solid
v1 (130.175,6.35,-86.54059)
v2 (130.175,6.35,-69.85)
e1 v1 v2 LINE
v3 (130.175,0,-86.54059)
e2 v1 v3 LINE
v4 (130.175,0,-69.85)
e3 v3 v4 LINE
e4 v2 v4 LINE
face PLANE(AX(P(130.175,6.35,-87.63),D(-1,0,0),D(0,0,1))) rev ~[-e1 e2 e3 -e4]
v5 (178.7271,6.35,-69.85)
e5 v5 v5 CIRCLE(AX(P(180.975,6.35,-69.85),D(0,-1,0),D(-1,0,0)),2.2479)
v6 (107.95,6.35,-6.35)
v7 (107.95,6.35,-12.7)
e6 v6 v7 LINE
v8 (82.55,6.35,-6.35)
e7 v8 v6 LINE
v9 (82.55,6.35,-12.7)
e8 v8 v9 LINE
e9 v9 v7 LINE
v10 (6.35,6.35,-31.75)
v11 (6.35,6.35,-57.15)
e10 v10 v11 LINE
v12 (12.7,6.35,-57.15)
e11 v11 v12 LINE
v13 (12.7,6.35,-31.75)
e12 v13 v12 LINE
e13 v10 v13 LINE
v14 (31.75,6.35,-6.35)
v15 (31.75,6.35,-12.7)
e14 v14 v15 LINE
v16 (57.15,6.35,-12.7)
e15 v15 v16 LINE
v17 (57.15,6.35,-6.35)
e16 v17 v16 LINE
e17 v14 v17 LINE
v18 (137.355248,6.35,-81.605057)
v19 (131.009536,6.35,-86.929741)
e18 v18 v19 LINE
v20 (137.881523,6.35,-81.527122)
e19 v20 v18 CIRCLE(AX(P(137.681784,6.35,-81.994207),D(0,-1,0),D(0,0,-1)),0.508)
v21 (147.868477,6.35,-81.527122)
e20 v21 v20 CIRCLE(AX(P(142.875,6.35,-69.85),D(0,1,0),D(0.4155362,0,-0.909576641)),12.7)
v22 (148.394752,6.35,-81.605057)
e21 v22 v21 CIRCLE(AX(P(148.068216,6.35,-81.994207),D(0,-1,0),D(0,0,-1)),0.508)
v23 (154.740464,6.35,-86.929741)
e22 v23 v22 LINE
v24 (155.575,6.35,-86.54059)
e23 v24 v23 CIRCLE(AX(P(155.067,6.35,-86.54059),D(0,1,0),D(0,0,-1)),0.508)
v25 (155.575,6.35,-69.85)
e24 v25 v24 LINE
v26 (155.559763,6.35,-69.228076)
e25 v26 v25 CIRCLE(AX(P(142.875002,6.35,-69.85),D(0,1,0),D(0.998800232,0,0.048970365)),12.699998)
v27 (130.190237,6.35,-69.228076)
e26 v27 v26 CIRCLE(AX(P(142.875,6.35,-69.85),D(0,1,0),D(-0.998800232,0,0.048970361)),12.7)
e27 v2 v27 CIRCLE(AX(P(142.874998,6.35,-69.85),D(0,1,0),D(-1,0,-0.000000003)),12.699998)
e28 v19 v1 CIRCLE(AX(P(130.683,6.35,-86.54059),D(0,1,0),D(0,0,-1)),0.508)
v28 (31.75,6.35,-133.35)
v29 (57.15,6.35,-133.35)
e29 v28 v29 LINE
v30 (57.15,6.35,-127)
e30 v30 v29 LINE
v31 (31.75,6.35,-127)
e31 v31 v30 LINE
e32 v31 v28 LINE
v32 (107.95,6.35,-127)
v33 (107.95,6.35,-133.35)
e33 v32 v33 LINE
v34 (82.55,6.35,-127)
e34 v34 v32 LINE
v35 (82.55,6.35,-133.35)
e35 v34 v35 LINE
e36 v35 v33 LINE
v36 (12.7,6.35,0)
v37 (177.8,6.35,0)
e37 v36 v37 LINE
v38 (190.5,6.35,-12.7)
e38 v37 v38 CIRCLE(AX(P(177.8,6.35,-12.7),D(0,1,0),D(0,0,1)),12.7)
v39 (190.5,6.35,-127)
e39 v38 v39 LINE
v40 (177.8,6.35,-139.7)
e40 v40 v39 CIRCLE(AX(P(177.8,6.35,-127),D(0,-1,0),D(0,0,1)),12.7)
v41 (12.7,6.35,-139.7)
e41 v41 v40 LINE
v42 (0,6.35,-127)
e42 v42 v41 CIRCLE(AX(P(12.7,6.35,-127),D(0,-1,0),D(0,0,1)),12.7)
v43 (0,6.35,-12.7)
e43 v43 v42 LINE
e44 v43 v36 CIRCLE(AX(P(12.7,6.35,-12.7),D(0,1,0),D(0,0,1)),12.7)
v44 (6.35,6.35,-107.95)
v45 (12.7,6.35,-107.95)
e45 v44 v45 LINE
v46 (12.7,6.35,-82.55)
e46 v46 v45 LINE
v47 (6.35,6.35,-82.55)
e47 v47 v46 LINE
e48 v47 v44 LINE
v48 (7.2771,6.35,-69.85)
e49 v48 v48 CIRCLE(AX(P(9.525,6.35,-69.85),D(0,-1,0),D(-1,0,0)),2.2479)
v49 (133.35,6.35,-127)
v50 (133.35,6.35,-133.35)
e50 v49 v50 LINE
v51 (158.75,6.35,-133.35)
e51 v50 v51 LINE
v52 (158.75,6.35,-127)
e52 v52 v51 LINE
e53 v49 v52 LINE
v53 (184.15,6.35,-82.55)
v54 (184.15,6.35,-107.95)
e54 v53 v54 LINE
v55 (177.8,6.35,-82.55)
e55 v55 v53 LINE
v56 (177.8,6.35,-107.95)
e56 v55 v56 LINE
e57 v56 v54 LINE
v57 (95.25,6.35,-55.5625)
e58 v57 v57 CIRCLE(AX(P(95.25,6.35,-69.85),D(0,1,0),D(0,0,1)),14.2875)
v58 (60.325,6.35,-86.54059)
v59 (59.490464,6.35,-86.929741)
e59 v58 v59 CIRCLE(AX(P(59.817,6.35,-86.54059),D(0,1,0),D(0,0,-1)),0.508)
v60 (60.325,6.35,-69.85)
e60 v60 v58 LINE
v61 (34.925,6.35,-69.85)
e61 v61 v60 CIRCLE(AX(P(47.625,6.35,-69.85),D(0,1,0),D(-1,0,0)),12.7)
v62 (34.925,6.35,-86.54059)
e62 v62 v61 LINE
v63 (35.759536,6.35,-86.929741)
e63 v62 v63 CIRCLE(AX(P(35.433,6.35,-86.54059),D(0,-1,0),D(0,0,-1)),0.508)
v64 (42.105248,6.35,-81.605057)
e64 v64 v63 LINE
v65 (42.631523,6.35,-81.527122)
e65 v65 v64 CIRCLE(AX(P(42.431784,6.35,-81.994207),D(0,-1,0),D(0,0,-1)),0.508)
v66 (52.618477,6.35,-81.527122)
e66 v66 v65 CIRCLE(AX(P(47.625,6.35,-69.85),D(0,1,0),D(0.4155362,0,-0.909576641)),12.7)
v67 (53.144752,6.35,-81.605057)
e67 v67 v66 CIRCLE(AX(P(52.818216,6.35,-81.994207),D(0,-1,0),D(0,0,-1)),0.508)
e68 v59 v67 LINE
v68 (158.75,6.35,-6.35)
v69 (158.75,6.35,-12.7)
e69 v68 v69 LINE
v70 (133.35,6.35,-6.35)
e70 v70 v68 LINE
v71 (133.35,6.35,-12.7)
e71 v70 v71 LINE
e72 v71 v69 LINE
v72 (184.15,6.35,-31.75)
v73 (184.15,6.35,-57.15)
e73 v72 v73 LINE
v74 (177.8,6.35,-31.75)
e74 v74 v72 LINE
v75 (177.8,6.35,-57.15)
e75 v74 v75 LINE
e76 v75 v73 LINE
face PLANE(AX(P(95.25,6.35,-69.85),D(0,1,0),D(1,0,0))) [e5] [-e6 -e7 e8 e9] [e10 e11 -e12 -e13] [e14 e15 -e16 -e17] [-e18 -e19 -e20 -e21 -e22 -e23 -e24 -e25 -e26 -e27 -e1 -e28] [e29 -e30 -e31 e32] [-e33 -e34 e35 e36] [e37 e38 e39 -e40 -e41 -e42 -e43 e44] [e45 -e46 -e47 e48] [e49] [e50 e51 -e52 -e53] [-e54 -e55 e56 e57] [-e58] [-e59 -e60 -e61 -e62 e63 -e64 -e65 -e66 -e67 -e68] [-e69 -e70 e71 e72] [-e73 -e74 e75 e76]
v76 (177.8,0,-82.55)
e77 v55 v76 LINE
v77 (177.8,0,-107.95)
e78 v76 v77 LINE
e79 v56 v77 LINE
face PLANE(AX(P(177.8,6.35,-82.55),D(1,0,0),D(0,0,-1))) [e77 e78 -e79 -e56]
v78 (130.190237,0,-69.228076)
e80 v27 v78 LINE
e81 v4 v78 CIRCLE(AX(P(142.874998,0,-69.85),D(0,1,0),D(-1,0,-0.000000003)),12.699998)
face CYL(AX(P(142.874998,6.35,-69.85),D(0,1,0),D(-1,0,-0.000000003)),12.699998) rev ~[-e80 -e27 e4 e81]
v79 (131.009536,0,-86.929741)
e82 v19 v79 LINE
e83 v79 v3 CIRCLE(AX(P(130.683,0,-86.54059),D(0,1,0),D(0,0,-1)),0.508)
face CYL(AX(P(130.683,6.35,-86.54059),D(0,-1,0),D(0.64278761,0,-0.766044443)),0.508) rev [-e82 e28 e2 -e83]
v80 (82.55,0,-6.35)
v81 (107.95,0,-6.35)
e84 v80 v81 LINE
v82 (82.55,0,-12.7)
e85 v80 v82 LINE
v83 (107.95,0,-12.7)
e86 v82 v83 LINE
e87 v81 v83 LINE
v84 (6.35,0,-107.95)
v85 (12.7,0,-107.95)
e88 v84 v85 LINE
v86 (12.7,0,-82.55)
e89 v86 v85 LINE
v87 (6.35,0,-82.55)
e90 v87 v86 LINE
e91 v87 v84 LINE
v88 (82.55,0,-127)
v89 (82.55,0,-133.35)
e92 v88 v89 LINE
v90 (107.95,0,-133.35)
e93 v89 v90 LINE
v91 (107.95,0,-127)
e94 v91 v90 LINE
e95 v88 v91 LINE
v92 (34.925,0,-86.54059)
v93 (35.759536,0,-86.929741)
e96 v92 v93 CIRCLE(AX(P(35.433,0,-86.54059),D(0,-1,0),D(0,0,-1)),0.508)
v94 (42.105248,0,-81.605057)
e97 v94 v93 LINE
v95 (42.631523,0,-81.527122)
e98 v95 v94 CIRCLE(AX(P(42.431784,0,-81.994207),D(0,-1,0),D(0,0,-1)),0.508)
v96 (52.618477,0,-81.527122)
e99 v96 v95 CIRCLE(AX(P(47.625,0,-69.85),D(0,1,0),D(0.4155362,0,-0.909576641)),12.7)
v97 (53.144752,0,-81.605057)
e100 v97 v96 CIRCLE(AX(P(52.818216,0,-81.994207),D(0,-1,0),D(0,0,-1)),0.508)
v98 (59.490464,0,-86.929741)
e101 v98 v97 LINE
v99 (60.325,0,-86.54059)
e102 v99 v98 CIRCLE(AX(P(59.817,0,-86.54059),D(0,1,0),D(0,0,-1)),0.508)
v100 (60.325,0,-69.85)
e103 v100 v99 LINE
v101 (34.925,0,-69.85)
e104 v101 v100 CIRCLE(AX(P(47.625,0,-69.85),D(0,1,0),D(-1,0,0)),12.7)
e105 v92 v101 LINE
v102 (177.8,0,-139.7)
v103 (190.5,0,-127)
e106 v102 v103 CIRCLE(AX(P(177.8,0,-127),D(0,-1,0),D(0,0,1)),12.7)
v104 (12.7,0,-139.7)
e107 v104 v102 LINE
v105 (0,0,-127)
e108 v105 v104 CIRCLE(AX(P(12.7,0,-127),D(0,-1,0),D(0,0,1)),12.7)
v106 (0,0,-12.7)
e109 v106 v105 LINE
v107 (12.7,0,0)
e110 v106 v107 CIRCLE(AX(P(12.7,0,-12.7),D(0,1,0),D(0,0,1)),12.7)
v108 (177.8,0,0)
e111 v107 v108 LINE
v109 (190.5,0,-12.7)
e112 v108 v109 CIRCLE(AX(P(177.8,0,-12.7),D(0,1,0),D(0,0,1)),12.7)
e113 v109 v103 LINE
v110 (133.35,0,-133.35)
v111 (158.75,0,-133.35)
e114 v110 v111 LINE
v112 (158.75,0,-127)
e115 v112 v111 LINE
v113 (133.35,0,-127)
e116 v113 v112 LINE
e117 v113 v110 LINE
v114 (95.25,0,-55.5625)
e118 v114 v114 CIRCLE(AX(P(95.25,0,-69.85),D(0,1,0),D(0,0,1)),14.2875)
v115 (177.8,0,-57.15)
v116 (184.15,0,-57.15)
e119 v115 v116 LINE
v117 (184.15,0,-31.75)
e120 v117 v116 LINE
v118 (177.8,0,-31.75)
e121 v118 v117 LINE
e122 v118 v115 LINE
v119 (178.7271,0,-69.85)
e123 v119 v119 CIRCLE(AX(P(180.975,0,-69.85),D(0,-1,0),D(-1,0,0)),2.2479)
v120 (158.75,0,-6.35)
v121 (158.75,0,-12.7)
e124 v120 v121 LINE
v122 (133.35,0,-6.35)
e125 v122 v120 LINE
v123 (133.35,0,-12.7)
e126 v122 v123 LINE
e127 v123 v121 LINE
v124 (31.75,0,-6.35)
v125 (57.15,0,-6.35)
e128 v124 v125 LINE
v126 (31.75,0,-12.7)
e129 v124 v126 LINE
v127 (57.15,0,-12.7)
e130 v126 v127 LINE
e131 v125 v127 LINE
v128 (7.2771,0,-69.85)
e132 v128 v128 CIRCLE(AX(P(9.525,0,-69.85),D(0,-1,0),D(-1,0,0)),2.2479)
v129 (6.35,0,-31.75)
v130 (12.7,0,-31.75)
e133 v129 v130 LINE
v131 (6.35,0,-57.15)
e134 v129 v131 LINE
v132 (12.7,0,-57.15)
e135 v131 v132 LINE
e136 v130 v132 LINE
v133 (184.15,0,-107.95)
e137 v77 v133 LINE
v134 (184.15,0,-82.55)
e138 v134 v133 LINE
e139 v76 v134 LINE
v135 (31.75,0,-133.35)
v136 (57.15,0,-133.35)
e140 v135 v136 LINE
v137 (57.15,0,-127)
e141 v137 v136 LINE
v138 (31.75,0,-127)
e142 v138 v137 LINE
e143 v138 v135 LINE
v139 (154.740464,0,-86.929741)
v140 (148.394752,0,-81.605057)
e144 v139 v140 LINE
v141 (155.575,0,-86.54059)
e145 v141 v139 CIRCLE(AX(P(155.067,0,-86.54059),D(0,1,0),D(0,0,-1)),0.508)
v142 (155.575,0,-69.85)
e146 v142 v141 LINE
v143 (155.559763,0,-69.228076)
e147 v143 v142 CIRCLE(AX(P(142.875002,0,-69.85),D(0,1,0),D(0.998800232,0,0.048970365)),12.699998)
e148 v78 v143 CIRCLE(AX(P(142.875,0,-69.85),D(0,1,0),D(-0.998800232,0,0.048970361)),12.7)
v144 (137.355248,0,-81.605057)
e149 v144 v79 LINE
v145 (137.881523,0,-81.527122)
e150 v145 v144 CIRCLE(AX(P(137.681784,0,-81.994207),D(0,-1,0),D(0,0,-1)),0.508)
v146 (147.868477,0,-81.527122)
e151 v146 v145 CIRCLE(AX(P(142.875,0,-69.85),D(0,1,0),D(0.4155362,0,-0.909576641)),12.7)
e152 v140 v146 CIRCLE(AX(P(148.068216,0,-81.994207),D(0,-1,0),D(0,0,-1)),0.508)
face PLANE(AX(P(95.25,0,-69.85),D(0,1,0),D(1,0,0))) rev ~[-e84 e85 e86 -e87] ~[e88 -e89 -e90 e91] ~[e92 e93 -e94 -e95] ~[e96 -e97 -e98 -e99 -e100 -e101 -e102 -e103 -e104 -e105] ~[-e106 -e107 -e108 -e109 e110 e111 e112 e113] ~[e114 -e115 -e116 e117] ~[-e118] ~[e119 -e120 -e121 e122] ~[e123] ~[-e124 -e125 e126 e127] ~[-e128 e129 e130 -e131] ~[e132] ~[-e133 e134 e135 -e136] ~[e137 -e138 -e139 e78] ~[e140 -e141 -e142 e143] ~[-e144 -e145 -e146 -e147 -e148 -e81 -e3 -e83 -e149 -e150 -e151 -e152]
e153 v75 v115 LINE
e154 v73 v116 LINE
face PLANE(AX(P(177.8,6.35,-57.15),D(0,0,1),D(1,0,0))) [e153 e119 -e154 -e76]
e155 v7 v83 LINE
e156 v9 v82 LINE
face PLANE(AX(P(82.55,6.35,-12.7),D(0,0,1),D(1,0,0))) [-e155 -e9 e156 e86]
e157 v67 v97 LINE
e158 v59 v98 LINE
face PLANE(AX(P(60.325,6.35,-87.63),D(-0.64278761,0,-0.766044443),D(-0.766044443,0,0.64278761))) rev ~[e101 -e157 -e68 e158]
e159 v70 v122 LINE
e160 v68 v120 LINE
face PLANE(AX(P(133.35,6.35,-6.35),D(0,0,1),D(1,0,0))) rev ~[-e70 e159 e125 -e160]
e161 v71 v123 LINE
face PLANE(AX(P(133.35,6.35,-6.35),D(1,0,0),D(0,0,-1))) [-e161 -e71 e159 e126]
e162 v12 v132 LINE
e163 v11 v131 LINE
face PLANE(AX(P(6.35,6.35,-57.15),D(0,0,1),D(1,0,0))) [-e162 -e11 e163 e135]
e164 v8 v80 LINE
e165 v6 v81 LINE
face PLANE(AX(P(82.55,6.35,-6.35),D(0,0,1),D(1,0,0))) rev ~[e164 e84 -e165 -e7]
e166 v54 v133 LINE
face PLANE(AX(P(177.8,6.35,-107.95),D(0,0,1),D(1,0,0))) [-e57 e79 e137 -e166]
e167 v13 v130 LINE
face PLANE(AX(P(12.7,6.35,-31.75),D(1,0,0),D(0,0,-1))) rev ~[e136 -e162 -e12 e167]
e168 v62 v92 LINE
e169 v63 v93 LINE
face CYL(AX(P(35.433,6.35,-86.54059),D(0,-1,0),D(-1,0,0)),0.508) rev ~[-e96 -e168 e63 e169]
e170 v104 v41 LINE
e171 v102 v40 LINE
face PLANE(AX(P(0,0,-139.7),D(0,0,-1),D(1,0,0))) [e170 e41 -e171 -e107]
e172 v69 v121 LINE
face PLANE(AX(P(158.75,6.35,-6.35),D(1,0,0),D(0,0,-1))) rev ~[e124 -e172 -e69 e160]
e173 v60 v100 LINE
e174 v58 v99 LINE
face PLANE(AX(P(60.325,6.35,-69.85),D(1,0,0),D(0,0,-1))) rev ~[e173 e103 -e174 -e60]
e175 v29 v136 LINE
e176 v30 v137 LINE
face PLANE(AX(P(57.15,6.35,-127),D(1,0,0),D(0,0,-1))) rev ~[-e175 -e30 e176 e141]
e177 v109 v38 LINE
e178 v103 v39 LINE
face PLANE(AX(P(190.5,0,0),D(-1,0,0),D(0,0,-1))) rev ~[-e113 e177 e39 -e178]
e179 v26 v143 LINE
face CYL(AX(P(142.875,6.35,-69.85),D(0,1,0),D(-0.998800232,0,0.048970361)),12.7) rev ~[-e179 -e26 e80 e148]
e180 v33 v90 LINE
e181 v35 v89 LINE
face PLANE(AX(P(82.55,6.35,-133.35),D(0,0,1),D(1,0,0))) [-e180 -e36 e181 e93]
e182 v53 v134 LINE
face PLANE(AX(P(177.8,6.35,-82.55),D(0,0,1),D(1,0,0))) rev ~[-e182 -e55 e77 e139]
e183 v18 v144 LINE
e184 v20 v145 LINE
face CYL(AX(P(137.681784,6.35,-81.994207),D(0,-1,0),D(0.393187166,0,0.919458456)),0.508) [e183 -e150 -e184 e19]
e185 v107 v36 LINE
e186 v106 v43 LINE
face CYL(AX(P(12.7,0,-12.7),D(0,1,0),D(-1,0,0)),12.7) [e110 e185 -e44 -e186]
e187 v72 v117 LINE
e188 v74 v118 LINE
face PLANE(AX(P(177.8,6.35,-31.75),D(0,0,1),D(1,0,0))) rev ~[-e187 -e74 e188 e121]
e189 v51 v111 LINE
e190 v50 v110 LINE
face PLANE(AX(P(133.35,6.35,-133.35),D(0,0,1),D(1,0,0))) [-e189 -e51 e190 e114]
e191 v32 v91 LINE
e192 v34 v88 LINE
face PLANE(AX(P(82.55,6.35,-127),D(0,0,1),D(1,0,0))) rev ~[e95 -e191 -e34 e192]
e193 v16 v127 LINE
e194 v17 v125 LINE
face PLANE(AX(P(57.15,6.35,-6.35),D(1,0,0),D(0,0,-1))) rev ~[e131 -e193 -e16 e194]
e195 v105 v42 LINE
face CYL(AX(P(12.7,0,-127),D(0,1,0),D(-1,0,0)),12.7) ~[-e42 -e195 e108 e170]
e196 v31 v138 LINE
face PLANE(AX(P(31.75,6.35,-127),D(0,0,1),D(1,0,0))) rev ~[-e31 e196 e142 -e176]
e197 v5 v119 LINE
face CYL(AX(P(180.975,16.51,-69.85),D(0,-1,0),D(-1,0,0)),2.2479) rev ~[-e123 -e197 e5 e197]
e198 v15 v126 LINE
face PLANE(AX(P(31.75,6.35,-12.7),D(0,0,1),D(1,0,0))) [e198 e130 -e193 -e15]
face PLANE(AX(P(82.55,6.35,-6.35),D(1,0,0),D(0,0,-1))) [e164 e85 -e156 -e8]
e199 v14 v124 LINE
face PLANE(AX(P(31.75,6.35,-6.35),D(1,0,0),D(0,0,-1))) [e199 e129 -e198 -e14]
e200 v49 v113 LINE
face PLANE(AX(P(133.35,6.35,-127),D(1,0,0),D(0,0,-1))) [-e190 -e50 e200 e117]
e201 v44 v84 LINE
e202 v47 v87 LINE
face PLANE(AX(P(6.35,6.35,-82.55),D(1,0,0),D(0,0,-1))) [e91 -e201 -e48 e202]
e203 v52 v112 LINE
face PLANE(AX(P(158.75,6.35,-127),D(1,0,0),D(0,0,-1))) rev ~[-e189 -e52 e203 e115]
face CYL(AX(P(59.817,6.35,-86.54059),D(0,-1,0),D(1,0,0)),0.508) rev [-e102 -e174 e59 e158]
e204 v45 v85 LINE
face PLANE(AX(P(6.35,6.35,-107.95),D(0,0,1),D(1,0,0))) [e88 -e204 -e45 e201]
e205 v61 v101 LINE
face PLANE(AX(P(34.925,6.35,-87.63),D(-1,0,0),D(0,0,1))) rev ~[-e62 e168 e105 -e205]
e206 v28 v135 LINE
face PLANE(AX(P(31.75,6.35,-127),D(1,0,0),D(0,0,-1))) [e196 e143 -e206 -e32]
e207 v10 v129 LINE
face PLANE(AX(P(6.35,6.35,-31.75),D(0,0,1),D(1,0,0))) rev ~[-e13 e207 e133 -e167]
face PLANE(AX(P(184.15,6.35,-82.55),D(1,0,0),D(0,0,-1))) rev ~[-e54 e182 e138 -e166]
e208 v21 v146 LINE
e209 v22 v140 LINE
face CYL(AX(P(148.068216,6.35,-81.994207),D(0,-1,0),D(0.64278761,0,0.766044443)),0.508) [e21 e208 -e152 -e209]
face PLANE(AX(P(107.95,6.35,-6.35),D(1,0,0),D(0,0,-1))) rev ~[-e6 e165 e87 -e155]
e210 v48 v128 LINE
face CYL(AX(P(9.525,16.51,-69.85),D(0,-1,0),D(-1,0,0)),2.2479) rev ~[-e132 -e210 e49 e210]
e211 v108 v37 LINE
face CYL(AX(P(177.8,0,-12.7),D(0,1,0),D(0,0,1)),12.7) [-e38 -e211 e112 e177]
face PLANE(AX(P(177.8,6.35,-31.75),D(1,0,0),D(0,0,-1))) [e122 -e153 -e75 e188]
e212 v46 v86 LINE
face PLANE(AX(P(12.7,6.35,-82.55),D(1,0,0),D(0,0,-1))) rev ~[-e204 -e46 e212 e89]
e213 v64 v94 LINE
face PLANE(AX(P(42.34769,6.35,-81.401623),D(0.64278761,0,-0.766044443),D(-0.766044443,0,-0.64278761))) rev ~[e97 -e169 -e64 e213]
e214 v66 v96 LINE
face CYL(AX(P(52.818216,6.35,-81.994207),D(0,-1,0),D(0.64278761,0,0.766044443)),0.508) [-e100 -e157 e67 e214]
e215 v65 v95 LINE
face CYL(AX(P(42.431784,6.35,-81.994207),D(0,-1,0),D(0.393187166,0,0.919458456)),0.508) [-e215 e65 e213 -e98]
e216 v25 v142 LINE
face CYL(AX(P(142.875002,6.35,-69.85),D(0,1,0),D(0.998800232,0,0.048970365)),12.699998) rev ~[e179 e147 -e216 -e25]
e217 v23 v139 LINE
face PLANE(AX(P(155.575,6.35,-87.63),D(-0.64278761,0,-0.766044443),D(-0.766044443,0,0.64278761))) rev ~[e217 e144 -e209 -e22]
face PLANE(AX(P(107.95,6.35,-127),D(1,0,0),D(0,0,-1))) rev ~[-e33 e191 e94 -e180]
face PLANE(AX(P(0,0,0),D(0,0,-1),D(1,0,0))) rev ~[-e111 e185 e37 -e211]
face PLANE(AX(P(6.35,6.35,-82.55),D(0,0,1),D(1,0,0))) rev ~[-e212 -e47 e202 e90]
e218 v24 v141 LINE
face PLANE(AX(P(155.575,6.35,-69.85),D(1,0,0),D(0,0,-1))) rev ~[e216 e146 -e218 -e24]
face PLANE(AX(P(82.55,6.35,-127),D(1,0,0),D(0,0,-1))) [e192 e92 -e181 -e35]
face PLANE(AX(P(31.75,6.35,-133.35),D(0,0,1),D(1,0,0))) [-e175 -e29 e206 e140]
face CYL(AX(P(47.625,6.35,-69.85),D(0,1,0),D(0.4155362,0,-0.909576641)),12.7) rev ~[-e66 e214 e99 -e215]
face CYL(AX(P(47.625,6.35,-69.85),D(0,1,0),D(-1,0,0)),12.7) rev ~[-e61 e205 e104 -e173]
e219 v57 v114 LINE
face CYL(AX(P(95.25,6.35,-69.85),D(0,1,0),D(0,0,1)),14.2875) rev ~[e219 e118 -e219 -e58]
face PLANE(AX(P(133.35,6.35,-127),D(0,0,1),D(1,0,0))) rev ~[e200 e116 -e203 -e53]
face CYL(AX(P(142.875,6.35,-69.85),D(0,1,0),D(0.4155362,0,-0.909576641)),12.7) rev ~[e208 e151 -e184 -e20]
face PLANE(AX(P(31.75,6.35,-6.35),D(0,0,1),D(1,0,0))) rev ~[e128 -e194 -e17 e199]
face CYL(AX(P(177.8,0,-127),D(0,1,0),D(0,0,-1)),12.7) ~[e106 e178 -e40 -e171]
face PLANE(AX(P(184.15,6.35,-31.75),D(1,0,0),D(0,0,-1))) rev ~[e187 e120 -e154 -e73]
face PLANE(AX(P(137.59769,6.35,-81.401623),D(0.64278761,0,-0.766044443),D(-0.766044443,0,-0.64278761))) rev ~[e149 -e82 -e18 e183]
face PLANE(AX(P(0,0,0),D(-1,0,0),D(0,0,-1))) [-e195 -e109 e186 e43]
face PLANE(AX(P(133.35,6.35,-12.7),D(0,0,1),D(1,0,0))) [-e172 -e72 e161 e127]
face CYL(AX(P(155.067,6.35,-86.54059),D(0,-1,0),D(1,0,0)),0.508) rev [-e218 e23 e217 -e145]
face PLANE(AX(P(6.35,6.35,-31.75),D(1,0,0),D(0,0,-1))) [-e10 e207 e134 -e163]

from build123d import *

# Parameters (mm, degrees)
SKETCH1_W                 = 190.5
SKETCH1_H                 = 139.7
BOSS_EXTRUDE1_DEPTH       = 6.35
SKETCH13_W                = 25.4
SKETCH13_H                = 6.35
CUT_EXTRUDE6_DEPTH        = 6.35
LPATTERN7_COUNT           = 2
LPATTERN7_PITCH           = 120.65
SKETCH14_W                = 6.35
SKETCH14_H                = 25.4
CUT_EXTRUDE7_DEPTH        = 6.35
F_8_CLEARANCE_HOLE1_D     = 4.4958
F_8_CLEARANCE_HOLE1_DEPTH = 10.16
F_8_CLEARANCE_HOLE1_TIP   = 1.350674586
SKETCH18_R                = 14.2875
CUT_EXTRUDE9_DEPTH        = 7.62
CUT_EXTRUDE16_DEPTH       = 6.35
FILLET2_R                 = 0.508
CUT_EXTRUDE17_DEPTH       = 6.35
FILLET5_R                 = 0.508
FILLET6_R                 = 12.7


with BuildPart() as part:
    # Sketch1 → Boss-Extrude1 (new body)
    with BuildSketch(Plane(origin=(0, 0, 0), x_dir=(1, 0, 0), z_dir=(0, 1, 0))):
        with Locations((95.25, 69.85)):
            Rectangle(SKETCH1_W, SKETCH1_H)
    extrude(amount=BOSS_EXTRUDE1_DEPTH)

    # Sketch13 → Cut-Extrude6 (cut)
    with BuildSketch(Plane(origin=(0, 6.35, 0), x_dir=(1, 0, 0), z_dir=(0, 1, 0))):
        with Locations((44.45, 9.525)):
            Rectangle(SKETCH13_W, SKETCH13_H)
        with Locations((95.25, 9.525)):
            Rectangle(SKETCH13_W, SKETCH13_H)
        with Locations((146.05, 9.525)):
            Rectangle(SKETCH13_W, SKETCH13_H)
    cut_extrude6 = extrude(amount=-CUT_EXTRUDE6_DEPTH, mode=Mode.SUBTRACT)

    # LPattern7: Cut-Extrude6 ×2
    with Locations(*[(0, 0, -i * LPATTERN7_PITCH) for i in range(1, LPATTERN7_COUNT)]):
        add(cut_extrude6, mode=Mode.SUBTRACT)

    # Sketch14 → Cut-Extrude7 (cut)
    with BuildSketch(Plane(origin=(0, 6.35, 0), x_dir=(1, 0, 0), z_dir=(0, 1, 0))):
        with Locations((9.525, 44.45)):
            Rectangle(SKETCH14_W, SKETCH14_H)
        with Locations((180.975, 44.45)):
            Rectangle(SKETCH14_W, SKETCH14_H)
        with Locations((180.975, 95.25)):
            Rectangle(SKETCH14_W, SKETCH14_H)
        with Locations((9.525, 95.25)):
            Rectangle(SKETCH14_W, SKETCH14_H)
    extrude(amount=-CUT_EXTRUDE7_DEPTH, mode=Mode.SUBTRACT)

    # #8 Clearance Hole1
    with Locations(Plane(origin=(0, 6.35, 0), x_dir=(1, 0, 0), z_dir=(0, 1, 0))):
        with Locations((9.525, 69.85), (180.975, 69.85)):
            Hole(F_8_CLEARANCE_HOLE1_D / 2, depth=F_8_CLEARANCE_HOLE1_DEPTH)
            with Locations((0, 0, -(F_8_CLEARANCE_HOLE1_DEPTH + F_8_CLEARANCE_HOLE1_TIP / 2))):  # 118° drill point
                Cone(0, F_8_CLEARANCE_HOLE1_D / 2, F_8_CLEARANCE_HOLE1_TIP, mode=Mode.SUBTRACT)

    # Sketch18 → Cut-Extrude9 (cut)
    with BuildSketch(Plane(origin=(0, 6.35, 0), x_dir=(1, 0, 0), z_dir=(0, 1, 0))):
        with Locations(Location((95.25, 69.85, 0), (0, 0, 270))):
            Circle(SKETCH18_R)
    extrude(amount=-CUT_EXTRUDE9_DEPTH, mode=Mode.SUBTRACT)

    # Sketch24 → Cut-Extrude16 (cut)
    with BuildSketch(Plane(origin=(0, 6.35, 0), x_dir=(1, 0, 0), z_dir=(0, 1, 0))):
        with BuildLine():
            Line((34.925, 87.63), (34.925, 69.85))
            ThreePointArc((34.925, 69.85), (47.625, 57.15), (60.325, 69.85))
            Line((60.325, 69.85), (60.325, 87.63))
            Line((60.325, 87.63), (52.902309744, 81.401623344))
            ThreePointArc((52.902309744, 81.401623344), (47.625, 82.55), (42.347690256, 81.401623344))
            Line((42.347690256, 81.401623344), (34.925, 87.63))
        make_face()
    extrude(amount=-CUT_EXTRUDE16_DEPTH, mode=Mode.SUBTRACT)

    # Fillet2
    fillet2_edges = [part.edges().sort_by_distance(p)[0] for p in [
        (34.925, 3.175, -87.63),
        (42.347690256, 3.175, -81.401623344),
        (52.902309744, 3.175, -81.401623344),
        (60.325, 3.175, -87.63),
    ]]
    fillet(fillet2_edges, radius=FILLET2_R)

    # Sketch25 → Cut-Extrude17 (cut)
    with BuildSketch(Plane(origin=(0, 6.35, 0), x_dir=(1, 0, 0), z_dir=(0, 1, 0))):
        with BuildLine():
            ThreePointArc((135.255, 80.01), (131.515774674, 75.529612663), (130.175, 69.85))
            ThreePointArc((130.175, 69.85), (130.178809834, 69.538944895), (130.190237052, 69.228076416))
            ThreePointArc((130.190237052, 69.228076416), (142.875, 57.15), (155.559762948, 69.228076416))
            ThreePointArc((155.559762948, 69.228076416), (155.571190166, 69.538944895), (155.575, 69.85))
            ThreePointArc((155.575, 69.85), (154.234225326, 75.529612663), (150.495, 80.01))
            ThreePointArc((150.495, 80.01), (149.361085379, 80.768823035), (148.152309744, 81.401623344))
            ThreePointArc((148.152309744, 81.401623344), (142.875, 82.55), (137.597690256, 81.401623344))
            ThreePointArc((137.597690256, 81.401623344), (136.388914621, 80.768823035), (135.255, 80.01))
        make_face()
        with BuildLine():
            Line((137.597690256, 81.401623344), (130.175, 87.63))
            Line((130.175, 87.63), (130.175, 69.85))
            ThreePointArc((130.175, 69.85), (131.515774674, 75.529612663), (135.255, 80.01))
            ThreePointArc((135.255, 80.01), (136.388914621, 80.768823035), (137.597690256, 81.401623344))
        make_face()
        with BuildLine():
            Line((155.575, 87.63), (148.152309744, 81.401623344))
            ThreePointArc((148.152309744, 81.401623344), (149.361085379, 80.768823035), (150.495, 80.01))
            ThreePointArc((150.495, 80.01), (154.234225326, 75.529612663), (155.575, 69.85))
            Line((155.575, 69.85), (155.575, 87.63))
        make_face()
    extrude(amount=-CUT_EXTRUDE17_DEPTH, mode=Mode.SUBTRACT)

    # Fillet5
    fillet5_edges = [part.edges().sort_by_distance(p)[0] for p in [
        (130.175, 3.175, -87.63),
        (137.597690256, 3.175, -81.401623344),
        (148.152309744, 3.175, -81.401623344),
        (155.575, 3.175, -87.63),
    ]]
    fillet(fillet5_edges, radius=FILLET5_R)

    # Fillet6
    fillet6_edges = [part.edges().sort_by_distance(p)[0] for p in [
        (0, 3.175, -139.7),
        (190.5, 3.175, -139.7),
        (190.5, 3.175, 0),
        (0, 3.175, 0),
    ]]
    fillet(fillet6_edges, radius=FILLET6_R)


solid = part.part
